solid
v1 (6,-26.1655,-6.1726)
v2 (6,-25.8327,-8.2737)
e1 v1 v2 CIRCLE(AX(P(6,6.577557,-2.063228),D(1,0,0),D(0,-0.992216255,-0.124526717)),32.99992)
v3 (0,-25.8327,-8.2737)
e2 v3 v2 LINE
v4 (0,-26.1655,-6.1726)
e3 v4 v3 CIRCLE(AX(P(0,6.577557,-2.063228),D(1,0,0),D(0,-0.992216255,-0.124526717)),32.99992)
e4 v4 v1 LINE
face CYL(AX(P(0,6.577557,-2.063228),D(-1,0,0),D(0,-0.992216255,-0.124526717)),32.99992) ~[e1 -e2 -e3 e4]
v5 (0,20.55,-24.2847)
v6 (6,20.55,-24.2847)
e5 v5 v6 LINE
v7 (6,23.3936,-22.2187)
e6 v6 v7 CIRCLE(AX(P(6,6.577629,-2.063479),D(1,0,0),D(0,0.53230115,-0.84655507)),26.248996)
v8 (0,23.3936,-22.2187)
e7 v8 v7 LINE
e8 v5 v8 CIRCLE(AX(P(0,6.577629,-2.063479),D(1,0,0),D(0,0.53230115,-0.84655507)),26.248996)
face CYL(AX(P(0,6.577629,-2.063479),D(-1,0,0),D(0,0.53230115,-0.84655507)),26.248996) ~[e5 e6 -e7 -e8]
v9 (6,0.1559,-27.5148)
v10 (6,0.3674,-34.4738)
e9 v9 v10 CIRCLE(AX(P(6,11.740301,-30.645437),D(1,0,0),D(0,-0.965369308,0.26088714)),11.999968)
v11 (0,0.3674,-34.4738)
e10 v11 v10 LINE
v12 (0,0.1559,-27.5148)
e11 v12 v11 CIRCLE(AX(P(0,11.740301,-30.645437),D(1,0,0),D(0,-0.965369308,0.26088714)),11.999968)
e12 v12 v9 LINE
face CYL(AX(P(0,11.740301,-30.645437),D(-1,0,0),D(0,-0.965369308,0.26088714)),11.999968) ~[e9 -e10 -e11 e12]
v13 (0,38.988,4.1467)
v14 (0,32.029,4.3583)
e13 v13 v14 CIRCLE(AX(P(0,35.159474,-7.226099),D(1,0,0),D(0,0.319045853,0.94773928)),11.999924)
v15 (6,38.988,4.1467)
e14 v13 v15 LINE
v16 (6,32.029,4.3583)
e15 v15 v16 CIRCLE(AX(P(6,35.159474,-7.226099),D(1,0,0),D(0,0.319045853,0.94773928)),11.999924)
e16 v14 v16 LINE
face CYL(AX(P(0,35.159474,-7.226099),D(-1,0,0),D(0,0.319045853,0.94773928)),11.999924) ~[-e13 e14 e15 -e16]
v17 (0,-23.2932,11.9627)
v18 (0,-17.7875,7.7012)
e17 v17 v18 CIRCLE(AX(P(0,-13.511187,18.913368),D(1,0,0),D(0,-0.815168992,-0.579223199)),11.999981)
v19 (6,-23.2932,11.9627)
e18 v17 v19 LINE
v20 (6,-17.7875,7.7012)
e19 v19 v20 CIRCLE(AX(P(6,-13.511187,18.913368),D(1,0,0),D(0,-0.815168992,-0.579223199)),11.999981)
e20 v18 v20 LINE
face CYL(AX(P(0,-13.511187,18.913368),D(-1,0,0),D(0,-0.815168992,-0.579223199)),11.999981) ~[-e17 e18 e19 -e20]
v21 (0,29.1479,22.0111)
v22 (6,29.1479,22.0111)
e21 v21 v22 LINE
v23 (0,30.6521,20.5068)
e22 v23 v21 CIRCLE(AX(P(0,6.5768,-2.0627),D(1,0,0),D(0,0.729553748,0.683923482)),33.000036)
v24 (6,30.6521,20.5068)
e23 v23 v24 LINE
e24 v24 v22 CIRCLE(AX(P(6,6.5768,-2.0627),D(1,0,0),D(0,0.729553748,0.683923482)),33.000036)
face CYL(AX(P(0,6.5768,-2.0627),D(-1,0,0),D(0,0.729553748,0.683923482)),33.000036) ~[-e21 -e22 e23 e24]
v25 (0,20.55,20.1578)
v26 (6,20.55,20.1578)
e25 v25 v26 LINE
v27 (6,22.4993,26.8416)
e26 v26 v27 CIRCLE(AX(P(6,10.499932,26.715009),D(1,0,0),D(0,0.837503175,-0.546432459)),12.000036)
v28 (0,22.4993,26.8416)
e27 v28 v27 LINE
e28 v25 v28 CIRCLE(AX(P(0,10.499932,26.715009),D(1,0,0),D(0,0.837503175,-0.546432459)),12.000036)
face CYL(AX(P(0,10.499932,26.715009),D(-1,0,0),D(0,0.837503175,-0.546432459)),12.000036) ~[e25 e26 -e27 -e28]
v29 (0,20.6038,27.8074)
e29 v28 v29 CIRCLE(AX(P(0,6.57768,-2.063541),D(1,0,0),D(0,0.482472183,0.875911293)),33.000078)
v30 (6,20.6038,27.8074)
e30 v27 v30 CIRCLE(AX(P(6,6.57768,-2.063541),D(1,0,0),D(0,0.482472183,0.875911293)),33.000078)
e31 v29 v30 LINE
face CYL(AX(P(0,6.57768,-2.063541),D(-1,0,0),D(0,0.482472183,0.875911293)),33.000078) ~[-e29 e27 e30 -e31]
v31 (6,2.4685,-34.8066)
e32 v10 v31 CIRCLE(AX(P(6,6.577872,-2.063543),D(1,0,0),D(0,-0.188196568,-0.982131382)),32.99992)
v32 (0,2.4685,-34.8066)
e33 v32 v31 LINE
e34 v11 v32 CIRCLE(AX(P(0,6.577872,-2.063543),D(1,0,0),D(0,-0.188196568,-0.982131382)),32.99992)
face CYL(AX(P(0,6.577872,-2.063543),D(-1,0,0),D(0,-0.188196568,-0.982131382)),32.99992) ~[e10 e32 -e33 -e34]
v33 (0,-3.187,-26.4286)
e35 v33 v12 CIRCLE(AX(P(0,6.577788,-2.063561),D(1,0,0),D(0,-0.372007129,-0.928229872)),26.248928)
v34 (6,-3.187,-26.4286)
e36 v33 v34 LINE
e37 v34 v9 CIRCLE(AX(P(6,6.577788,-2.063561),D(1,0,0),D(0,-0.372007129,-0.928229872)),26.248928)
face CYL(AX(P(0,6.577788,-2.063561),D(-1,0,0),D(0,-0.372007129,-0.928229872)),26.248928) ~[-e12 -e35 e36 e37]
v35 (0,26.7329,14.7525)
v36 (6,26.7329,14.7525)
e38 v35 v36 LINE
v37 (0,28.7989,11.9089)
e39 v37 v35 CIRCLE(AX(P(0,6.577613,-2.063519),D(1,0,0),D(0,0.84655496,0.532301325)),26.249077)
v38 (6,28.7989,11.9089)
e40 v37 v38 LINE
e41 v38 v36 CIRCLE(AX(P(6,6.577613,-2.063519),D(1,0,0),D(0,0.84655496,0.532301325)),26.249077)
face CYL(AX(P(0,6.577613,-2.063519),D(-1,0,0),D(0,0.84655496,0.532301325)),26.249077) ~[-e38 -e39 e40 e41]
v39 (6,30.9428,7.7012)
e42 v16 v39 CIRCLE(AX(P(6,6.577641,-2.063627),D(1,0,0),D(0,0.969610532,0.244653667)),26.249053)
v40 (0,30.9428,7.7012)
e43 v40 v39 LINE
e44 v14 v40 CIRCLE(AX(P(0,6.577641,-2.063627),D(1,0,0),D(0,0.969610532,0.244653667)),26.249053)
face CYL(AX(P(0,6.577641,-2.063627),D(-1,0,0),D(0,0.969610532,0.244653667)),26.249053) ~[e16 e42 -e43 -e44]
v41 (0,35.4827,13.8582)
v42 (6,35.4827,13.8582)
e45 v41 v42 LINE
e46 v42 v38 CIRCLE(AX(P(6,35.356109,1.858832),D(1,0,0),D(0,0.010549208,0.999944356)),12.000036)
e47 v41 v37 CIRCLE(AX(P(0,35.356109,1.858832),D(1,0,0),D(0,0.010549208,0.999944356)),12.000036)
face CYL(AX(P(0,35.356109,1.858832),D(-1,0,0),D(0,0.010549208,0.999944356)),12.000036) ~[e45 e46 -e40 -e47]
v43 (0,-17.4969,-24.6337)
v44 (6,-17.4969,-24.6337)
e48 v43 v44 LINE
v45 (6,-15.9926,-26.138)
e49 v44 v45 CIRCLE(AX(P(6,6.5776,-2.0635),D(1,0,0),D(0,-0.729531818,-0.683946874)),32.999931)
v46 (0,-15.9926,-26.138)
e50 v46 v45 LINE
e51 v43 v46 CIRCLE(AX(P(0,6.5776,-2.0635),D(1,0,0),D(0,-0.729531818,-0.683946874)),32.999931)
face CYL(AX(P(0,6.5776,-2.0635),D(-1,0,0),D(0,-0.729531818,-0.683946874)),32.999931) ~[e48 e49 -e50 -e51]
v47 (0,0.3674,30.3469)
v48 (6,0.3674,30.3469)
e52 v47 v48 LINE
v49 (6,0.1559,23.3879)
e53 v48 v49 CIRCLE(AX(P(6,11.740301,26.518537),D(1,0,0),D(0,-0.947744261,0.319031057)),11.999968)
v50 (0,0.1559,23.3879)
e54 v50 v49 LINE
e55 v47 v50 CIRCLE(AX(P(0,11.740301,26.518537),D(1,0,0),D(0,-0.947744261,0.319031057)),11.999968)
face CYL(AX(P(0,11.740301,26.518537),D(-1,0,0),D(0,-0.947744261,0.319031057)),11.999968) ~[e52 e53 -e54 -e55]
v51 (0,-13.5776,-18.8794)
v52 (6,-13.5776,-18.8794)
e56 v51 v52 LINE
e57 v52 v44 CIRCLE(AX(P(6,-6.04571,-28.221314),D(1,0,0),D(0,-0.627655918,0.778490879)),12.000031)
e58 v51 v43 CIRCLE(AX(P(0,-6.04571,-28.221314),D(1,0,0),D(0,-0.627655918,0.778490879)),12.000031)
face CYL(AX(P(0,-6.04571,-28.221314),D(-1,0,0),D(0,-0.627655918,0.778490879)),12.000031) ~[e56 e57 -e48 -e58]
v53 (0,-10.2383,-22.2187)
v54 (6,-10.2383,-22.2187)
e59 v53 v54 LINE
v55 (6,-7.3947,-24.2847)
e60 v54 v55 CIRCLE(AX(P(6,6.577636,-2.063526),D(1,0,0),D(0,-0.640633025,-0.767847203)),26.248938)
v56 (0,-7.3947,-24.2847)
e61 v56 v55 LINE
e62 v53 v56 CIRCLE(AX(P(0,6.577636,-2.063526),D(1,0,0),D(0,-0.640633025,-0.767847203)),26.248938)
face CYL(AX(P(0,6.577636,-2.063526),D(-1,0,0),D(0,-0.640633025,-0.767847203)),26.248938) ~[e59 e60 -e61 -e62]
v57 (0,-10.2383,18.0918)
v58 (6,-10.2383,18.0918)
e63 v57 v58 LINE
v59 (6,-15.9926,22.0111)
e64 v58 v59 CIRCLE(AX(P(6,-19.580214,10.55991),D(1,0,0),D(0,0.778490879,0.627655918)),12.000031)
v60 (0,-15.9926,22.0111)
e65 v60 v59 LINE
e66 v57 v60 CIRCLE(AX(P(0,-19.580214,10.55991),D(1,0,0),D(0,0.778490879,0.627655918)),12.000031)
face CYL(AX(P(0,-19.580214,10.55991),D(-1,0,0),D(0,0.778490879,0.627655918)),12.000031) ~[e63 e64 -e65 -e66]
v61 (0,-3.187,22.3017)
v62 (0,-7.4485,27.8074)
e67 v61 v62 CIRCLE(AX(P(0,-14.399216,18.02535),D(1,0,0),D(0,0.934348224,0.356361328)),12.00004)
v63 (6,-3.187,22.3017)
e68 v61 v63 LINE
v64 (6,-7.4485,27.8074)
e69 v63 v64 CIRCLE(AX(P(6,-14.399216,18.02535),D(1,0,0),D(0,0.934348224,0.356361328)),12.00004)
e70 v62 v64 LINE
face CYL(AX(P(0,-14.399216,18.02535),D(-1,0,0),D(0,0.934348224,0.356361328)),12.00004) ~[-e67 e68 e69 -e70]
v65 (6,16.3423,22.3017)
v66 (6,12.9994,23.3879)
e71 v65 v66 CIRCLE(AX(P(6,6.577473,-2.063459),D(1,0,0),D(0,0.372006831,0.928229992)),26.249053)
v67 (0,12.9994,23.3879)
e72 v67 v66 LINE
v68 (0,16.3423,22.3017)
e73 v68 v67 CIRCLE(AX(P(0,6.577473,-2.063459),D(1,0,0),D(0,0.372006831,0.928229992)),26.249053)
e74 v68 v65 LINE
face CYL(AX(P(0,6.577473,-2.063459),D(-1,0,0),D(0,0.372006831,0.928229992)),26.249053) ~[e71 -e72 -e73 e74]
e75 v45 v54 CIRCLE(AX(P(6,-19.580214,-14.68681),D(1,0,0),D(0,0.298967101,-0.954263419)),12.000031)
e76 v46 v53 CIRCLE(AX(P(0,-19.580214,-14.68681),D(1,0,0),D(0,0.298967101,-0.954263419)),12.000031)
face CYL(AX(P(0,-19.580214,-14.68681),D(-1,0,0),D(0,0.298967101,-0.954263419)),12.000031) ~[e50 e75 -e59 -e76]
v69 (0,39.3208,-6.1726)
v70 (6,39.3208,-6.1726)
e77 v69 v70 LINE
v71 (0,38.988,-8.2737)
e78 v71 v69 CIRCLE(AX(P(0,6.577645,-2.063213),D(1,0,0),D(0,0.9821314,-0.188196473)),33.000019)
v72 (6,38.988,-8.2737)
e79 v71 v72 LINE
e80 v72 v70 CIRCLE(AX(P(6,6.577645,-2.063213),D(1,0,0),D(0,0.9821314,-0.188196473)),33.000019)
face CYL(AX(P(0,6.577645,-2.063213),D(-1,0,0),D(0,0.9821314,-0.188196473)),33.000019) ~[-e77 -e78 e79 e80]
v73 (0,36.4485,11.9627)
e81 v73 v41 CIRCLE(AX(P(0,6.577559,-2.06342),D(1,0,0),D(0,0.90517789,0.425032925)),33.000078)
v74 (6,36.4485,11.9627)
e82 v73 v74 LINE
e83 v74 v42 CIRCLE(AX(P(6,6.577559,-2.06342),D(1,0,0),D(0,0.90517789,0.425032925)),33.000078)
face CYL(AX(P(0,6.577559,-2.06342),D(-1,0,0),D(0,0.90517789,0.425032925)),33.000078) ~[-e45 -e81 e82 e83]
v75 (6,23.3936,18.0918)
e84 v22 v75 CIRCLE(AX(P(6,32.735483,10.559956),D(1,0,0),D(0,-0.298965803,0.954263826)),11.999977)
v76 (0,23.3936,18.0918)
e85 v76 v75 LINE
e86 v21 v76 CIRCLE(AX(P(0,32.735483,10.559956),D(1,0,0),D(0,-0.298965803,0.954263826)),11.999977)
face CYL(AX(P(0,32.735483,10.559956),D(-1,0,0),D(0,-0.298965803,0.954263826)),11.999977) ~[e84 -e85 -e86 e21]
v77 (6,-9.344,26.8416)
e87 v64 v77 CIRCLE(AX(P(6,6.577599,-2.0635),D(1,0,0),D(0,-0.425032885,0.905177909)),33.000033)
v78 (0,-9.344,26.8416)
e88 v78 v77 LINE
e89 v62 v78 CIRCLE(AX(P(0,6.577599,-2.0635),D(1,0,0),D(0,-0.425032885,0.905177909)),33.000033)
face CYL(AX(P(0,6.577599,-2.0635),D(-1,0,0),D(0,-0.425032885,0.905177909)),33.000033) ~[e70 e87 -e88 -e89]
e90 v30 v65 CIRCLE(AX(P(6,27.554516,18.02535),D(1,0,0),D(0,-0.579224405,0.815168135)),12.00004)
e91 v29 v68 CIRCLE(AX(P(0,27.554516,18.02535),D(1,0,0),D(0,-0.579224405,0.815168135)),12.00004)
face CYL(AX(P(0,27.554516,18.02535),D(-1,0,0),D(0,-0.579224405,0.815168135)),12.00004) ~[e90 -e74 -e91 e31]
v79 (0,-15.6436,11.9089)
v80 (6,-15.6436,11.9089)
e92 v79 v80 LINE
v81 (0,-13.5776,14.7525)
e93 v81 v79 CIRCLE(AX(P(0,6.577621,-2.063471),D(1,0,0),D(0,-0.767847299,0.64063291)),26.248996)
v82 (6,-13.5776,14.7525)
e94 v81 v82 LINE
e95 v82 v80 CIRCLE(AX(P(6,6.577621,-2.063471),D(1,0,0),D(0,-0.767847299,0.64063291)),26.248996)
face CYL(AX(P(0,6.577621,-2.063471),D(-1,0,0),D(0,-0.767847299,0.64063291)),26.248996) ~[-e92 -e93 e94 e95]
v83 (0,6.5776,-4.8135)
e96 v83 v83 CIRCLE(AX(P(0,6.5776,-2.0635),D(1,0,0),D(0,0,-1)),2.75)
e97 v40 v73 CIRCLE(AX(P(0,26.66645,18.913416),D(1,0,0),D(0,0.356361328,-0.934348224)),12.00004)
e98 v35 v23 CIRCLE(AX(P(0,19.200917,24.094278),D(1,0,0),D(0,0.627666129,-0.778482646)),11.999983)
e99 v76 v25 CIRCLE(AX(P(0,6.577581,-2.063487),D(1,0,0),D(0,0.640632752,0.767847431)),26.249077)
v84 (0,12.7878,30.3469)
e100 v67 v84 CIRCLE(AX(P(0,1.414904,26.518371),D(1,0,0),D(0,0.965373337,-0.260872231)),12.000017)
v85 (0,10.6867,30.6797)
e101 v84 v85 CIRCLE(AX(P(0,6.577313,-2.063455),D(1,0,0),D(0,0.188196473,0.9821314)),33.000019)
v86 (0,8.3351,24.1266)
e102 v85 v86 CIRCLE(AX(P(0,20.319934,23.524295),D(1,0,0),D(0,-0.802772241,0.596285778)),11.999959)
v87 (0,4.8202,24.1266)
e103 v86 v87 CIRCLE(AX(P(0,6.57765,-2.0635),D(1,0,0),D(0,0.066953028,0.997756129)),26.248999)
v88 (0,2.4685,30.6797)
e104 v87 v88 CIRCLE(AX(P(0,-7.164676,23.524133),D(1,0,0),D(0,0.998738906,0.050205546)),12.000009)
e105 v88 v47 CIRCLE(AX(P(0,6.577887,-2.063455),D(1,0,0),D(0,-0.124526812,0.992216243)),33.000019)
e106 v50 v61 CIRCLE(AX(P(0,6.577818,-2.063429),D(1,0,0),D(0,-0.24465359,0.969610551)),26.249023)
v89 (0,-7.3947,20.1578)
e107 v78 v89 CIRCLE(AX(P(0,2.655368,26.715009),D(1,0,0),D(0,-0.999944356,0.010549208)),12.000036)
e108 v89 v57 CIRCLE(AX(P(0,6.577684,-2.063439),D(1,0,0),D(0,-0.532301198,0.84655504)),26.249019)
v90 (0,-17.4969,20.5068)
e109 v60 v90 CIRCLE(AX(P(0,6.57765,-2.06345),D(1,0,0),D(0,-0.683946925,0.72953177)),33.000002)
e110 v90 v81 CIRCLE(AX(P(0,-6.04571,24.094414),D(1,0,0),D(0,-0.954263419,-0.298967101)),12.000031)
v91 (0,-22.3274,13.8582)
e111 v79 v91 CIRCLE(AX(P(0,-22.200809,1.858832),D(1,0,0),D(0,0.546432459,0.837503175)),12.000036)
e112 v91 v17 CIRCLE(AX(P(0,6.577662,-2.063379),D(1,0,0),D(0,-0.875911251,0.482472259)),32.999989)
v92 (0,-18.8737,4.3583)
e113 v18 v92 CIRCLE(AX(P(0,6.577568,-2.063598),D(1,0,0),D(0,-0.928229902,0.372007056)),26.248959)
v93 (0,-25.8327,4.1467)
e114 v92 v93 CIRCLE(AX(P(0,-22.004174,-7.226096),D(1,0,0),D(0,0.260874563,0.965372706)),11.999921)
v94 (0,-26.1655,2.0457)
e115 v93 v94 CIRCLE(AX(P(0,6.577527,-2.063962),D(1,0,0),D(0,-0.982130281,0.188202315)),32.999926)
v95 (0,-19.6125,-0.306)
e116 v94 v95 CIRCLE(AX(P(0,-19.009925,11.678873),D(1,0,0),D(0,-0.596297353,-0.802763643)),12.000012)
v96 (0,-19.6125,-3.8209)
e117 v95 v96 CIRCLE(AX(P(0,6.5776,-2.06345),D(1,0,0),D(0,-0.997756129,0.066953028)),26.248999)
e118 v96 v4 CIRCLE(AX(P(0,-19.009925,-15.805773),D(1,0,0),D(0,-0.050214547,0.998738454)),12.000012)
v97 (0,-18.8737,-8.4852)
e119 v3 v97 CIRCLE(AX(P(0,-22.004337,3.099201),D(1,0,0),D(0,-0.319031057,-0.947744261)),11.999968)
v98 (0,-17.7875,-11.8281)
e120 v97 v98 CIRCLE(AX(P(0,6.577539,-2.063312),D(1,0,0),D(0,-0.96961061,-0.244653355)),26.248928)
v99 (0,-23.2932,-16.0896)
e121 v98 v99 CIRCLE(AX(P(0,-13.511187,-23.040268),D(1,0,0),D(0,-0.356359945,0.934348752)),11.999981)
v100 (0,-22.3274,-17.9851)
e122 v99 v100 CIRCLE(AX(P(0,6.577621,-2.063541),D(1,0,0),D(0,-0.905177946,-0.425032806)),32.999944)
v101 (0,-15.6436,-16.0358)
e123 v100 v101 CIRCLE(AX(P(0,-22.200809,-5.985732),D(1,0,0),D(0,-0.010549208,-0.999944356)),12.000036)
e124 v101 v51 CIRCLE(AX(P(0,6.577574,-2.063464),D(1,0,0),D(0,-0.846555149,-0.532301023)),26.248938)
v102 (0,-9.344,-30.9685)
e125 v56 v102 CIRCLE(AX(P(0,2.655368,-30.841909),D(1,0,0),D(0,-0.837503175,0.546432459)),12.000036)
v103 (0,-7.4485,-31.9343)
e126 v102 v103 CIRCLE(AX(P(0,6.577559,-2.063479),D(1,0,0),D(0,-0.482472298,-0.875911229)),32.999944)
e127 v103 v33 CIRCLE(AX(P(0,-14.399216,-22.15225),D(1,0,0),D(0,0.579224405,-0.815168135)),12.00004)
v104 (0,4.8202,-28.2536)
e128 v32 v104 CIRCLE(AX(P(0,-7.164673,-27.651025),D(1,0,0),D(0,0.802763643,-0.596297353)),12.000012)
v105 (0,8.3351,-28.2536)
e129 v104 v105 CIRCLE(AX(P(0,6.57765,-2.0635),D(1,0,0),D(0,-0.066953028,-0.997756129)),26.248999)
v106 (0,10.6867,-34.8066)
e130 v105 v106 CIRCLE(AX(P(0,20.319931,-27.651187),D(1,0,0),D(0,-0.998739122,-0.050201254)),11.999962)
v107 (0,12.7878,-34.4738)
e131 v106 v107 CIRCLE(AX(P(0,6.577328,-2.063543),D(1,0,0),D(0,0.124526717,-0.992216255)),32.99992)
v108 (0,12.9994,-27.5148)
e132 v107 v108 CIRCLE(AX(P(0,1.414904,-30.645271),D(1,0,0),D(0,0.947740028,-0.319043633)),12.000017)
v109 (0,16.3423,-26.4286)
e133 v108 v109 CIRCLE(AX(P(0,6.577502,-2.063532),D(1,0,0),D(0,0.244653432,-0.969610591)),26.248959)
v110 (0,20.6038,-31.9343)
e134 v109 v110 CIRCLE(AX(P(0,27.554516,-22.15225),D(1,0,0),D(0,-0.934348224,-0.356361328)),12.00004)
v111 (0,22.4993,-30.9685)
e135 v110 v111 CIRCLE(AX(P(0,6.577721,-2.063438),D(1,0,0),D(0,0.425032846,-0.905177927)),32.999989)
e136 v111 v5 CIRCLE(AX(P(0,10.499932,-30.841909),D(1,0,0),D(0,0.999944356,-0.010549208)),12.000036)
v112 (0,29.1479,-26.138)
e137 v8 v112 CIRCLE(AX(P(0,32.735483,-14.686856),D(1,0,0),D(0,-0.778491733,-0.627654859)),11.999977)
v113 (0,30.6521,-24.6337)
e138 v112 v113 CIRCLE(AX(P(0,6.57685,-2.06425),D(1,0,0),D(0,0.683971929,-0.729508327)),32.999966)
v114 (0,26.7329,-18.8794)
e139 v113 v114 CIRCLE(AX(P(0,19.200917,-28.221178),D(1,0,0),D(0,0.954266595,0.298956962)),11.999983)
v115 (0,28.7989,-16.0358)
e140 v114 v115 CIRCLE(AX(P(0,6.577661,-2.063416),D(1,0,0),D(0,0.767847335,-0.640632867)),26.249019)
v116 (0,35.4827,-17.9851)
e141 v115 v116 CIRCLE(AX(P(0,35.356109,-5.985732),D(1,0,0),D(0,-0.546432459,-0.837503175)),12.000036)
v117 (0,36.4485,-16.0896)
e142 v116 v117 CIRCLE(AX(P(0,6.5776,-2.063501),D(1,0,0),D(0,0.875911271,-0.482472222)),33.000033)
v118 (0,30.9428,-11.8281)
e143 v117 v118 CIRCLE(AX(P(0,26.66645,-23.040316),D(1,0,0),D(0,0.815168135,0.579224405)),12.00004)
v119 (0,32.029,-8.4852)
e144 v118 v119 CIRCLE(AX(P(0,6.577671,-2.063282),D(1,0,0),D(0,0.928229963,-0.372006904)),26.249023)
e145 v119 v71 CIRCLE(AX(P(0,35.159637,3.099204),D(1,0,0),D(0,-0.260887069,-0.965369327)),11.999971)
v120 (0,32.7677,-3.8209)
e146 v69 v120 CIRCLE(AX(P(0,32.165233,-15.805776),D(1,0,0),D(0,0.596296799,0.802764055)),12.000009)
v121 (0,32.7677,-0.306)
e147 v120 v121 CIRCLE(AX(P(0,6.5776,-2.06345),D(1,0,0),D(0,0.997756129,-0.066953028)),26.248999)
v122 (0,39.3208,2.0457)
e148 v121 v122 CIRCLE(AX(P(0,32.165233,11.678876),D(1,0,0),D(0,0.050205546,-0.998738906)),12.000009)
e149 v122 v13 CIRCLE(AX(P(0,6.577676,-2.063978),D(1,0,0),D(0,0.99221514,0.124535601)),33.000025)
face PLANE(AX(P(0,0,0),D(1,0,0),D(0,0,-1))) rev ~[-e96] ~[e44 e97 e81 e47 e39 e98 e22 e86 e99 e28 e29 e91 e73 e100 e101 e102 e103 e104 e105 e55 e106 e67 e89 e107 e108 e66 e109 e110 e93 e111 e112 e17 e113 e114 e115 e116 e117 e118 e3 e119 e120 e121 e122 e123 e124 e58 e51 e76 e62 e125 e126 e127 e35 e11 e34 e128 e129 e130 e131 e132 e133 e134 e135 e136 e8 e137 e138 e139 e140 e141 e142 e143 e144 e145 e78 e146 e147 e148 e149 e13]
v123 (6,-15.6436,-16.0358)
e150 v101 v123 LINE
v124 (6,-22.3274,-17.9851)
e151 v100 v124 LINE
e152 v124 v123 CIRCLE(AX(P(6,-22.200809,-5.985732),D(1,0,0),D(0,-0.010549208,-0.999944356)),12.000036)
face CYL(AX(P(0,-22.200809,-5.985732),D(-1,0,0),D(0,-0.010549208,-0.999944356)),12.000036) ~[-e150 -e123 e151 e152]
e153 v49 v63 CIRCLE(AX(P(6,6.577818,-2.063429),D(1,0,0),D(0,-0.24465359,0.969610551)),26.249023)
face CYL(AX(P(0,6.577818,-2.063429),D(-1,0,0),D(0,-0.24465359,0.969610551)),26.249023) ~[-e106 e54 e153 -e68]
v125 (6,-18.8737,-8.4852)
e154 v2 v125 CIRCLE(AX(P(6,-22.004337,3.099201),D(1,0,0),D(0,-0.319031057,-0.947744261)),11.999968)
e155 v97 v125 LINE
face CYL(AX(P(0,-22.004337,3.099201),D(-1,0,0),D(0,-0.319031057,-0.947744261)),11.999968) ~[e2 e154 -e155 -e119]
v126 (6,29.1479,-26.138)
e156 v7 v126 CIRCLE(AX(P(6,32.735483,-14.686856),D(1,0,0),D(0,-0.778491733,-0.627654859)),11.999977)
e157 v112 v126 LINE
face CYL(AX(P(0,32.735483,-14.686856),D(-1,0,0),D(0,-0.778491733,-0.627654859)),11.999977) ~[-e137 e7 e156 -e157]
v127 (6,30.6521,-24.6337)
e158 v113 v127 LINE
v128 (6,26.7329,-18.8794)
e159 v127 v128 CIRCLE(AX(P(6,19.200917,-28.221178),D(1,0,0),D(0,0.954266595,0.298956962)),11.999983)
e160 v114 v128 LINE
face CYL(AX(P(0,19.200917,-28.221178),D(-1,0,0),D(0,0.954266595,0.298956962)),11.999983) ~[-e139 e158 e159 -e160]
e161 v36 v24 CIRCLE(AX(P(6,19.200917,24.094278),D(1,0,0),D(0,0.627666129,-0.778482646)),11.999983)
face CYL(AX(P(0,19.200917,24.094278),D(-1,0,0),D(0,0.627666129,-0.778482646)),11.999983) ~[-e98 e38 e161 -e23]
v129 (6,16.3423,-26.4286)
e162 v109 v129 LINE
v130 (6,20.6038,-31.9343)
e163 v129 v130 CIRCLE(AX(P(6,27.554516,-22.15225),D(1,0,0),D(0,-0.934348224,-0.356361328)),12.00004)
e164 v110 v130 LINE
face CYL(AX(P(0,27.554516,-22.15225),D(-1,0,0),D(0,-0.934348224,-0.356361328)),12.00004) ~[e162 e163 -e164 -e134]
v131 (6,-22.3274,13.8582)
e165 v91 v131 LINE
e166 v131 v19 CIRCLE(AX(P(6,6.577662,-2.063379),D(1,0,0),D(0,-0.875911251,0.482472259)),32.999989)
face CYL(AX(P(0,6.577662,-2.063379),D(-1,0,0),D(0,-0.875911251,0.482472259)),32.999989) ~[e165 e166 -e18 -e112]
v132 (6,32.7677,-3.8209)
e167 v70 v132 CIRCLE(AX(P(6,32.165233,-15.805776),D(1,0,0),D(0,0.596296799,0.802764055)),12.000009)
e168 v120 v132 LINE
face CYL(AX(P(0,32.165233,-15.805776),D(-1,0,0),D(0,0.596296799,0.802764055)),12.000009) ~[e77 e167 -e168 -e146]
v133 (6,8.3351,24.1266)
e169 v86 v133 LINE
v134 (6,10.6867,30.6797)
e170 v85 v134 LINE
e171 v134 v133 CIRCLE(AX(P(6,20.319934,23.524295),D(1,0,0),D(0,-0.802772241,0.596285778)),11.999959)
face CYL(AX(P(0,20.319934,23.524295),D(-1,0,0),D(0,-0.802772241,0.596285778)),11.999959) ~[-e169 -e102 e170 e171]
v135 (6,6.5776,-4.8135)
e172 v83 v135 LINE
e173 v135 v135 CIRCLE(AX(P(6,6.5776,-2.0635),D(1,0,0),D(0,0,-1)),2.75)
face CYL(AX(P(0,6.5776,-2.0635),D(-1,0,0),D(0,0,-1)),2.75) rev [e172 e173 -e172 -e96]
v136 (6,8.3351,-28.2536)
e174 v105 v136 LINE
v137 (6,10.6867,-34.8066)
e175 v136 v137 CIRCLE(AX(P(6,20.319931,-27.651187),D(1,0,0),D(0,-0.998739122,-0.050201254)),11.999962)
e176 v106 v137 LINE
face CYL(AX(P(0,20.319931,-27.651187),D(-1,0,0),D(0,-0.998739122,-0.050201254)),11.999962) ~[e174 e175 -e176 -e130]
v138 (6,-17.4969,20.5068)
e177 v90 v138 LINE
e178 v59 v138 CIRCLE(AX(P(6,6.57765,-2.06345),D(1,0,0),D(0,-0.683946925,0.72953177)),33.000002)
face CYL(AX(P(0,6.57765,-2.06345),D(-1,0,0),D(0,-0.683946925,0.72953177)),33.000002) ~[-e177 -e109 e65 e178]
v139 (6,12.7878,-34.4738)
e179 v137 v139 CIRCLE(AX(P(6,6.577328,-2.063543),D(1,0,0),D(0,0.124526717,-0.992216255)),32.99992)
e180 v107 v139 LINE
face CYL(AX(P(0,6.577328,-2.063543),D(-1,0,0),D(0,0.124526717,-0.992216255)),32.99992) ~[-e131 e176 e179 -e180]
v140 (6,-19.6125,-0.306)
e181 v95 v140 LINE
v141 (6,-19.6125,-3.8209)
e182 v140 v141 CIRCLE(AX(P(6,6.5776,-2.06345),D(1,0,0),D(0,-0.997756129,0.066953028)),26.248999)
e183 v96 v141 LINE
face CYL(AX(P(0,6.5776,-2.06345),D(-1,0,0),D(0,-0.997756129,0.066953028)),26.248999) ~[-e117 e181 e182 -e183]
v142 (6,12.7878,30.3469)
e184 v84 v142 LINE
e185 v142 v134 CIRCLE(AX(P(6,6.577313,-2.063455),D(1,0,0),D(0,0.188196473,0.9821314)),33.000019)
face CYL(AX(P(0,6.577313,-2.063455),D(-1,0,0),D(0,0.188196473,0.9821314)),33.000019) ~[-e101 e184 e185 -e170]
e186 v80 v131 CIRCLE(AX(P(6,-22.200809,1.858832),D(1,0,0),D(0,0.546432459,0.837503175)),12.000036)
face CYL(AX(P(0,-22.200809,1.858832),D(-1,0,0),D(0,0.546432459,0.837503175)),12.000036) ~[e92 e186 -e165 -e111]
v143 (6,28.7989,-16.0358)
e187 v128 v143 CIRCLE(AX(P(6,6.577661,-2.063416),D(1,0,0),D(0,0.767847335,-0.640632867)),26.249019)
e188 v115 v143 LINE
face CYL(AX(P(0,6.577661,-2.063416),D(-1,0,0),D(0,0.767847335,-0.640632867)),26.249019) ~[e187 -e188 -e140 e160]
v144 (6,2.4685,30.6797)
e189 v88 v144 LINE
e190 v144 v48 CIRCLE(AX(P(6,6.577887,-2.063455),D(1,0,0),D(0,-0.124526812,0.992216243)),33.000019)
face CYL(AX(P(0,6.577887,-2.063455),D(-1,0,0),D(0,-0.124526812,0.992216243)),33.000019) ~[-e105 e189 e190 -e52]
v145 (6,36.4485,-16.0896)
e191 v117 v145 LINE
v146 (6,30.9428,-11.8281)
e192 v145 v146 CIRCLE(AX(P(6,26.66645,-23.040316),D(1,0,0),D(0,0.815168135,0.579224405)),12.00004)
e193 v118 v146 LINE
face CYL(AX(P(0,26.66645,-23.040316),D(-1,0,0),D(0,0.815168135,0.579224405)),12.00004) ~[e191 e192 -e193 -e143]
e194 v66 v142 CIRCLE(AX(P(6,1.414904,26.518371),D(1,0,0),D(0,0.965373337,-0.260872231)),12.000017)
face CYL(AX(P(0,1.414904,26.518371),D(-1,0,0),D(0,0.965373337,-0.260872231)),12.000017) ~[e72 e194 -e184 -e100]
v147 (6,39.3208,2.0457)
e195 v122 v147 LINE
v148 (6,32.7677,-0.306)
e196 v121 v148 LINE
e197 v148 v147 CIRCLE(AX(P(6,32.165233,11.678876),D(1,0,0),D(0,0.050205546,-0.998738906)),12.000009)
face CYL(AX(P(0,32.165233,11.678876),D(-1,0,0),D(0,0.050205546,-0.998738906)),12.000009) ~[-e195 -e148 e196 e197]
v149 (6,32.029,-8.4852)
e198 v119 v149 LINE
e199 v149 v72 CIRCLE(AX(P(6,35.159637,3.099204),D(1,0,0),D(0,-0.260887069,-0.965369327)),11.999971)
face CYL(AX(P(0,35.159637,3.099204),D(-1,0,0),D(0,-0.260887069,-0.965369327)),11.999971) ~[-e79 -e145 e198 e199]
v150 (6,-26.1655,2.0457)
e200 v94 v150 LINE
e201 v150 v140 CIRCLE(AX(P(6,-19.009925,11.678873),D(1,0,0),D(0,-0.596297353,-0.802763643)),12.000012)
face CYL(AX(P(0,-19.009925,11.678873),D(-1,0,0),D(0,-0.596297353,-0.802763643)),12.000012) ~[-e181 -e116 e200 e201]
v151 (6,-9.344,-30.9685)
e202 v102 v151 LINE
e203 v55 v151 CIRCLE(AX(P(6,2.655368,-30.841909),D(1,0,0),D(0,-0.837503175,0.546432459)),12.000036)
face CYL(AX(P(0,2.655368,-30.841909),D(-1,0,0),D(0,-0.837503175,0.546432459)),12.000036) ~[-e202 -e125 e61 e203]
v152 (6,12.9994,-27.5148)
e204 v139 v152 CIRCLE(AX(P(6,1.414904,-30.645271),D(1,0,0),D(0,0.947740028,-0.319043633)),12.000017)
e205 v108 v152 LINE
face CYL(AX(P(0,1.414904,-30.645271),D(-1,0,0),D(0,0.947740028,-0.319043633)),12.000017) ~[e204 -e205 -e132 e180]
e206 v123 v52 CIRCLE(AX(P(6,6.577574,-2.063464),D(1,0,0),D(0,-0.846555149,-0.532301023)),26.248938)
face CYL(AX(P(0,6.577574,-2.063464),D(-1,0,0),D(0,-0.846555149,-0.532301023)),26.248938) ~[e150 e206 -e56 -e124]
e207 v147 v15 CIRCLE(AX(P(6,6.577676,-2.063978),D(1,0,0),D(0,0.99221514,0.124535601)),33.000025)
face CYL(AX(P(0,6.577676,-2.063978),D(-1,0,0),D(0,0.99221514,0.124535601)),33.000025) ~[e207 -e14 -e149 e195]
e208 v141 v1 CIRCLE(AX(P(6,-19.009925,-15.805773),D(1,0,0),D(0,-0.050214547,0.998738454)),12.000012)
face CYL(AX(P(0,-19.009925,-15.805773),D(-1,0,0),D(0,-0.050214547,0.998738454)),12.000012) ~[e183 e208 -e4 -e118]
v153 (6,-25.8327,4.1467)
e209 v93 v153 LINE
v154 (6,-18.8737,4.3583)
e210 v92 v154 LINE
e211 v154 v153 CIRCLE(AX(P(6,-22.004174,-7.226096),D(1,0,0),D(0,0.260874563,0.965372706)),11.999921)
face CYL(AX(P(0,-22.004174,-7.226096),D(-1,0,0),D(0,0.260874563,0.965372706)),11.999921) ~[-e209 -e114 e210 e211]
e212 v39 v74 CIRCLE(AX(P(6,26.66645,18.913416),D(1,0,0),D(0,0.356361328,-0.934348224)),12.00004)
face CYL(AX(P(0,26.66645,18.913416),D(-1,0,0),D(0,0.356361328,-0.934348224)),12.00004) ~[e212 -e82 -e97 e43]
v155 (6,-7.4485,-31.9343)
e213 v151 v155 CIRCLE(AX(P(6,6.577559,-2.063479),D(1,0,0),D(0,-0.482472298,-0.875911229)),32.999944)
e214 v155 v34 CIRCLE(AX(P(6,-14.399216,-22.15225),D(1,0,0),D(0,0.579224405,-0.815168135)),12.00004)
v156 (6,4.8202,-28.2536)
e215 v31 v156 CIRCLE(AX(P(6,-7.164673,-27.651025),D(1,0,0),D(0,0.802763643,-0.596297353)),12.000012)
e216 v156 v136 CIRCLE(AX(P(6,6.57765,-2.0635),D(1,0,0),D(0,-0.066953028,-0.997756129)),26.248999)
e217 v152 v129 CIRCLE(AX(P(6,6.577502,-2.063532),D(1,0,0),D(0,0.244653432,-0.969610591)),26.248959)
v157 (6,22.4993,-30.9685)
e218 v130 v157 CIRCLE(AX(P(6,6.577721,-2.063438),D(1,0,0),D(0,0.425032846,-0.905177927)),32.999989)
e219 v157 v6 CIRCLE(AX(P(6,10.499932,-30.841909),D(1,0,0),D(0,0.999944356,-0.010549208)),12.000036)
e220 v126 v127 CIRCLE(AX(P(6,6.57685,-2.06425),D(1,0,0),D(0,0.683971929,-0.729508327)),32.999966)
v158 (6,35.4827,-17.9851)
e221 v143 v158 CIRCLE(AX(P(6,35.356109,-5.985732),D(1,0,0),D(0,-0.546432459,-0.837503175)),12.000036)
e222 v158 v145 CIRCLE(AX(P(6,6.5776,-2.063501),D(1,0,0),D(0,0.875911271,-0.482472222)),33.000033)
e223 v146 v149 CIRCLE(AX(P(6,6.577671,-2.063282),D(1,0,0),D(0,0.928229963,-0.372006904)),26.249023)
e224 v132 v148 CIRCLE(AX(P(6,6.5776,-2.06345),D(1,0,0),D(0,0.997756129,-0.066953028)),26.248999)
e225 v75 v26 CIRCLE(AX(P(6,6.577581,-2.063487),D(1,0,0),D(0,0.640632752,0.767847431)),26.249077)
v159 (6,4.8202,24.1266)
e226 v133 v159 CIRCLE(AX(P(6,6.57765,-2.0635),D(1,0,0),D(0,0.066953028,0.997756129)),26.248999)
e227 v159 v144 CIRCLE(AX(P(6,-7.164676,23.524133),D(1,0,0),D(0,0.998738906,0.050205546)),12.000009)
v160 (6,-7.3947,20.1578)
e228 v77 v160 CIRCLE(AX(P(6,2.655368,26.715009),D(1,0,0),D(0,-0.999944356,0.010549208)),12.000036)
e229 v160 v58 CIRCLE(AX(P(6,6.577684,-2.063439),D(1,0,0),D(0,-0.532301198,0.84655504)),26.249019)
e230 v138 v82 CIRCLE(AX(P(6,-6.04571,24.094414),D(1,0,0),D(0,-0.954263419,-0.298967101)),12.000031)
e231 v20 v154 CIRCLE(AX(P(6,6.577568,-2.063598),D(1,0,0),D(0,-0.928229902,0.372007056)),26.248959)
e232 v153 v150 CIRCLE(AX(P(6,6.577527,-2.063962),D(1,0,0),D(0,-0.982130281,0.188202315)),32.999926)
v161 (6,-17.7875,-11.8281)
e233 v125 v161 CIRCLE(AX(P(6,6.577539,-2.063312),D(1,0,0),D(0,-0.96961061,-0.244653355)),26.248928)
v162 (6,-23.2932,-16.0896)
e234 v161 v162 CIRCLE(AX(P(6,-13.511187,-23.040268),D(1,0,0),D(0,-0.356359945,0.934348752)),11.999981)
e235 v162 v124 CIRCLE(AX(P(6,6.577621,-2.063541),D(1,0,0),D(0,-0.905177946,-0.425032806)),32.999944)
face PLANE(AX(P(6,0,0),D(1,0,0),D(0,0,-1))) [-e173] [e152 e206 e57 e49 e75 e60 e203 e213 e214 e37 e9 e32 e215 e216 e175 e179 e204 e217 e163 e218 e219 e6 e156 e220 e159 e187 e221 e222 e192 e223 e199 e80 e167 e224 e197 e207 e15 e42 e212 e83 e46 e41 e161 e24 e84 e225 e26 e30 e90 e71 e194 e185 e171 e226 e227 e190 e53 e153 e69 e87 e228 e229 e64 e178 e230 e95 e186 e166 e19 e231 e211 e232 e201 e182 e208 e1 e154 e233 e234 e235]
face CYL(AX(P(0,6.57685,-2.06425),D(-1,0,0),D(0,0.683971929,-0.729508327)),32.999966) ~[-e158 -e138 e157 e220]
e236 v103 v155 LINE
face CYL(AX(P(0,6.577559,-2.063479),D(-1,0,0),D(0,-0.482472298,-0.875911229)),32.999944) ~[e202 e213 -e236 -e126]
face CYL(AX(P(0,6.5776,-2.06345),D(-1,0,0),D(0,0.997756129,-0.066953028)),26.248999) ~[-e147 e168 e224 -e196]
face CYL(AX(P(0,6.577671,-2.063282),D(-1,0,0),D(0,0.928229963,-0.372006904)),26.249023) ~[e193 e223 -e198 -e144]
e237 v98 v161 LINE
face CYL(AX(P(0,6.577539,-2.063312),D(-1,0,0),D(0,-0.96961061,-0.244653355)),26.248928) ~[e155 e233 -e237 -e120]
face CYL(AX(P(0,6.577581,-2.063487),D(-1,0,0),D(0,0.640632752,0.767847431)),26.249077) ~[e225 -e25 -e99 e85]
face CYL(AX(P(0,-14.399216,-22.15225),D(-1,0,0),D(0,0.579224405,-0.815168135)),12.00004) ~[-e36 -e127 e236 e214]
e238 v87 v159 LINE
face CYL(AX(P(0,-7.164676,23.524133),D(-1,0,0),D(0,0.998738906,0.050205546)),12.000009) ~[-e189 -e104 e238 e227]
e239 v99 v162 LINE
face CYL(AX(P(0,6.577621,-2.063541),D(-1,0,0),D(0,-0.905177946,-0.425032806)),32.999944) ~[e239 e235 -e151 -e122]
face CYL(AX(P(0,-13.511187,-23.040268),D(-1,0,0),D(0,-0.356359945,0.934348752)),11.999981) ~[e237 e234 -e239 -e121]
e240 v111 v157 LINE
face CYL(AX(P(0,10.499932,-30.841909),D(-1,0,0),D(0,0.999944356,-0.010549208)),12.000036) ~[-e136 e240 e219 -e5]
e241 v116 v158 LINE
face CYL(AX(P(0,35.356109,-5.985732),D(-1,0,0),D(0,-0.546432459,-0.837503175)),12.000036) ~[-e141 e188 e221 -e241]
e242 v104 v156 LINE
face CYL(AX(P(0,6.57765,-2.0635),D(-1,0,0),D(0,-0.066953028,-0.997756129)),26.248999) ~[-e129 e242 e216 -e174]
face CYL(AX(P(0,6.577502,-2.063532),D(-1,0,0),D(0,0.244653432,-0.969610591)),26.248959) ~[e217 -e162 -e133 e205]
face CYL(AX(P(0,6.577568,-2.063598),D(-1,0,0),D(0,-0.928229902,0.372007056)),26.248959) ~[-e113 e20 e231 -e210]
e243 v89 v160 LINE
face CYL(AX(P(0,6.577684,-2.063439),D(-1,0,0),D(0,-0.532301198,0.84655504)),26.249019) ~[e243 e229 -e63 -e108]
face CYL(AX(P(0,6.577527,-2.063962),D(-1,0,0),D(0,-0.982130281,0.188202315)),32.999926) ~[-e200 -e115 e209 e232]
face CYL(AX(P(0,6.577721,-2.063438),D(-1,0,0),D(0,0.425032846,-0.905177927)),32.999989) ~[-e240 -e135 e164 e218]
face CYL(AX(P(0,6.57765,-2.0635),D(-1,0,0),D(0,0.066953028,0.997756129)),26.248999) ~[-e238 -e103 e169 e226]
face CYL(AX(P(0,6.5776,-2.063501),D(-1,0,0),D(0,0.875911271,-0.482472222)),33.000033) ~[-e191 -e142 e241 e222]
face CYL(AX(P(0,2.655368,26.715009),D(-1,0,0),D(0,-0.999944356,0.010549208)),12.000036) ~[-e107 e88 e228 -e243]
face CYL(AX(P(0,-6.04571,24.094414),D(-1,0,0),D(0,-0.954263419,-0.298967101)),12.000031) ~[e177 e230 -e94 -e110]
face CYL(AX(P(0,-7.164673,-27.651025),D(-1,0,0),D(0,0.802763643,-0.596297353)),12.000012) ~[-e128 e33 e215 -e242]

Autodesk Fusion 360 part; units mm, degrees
sketch "Sketch1" plane through (0, 0, 0) normal (1, 0, 0) x (0, 0, -1)
  arc A0 (28.2536, 4.8202) -> (28.2536, 8.3351) centre (2.0635, 6.5776) ccw
  arc A1 (28.2536, 8.3351) -> (34.8066, 10.6867) centre (27.6511, 20.3199) ccw
  arc A2 (17.9851, 35.4827) -> (16.0896, 36.4485) centre (2.0635, 6.5776) ccw
  arc A3 (8.4852, 32.029) -> (8.2737, 38.988) centre (-3.0992, 35.1595) ccw
  arc A4 (34.8066, 10.6867) -> (34.4738, 12.7878) centre (2.0635, 6.5776) ccw
  arc A5 (6.1726, 39.3208) -> (3.8209, 32.7677) centre (15.8058, 32.1653) ccw
  arc A6 (18.8794, -13.5776) -> (24.6337, -17.4969) centre (28.2213, -6.0457) ccw
  arc A7 (16.0896, -23.2932) -> (17.9851, -22.3274) centre (2.0635, 6.5776) ccw
  arc A8 (22.2187, -10.2383) -> (24.2847, -7.3947) centre (2.0635, 6.5776) ccw
  arc A9 (3.8209, 32.7677) -> (0.306, 32.7677) centre (2.0635, 6.5776) ccw
  arc A10 (0.306, -19.6125) -> (3.8209, -19.6125) centre (2.0635, 6.5776) ccw
  arc A11 (24.6337, -17.4969) -> (26.138, -15.9926) centre (2.0635, 6.5776) ccw
  arc A12 (-13.8582, -22.3274) -> (-11.9627, -23.2932) centre (2.0635, 6.5776) ccw
  arc A13 (31.9343, -7.4485) -> (26.4286, -3.187) centre (22.1521, -14.3991) ccw
  arc A14 (6.1726, 39.3208) -> (3.8209, 32.7677) centre (15.8058, 32.1653) ccw
  arc A15 (-14.7525, -13.5776) -> (-11.9089, -15.6436) centre (2.0635, 6.5776) ccw
  arc A16 (8.2737, -25.8327) -> (8.4852, -18.8737) centre (-3.0992, -22.0043) ccw
  arc A17 (-7.7012, -17.7875) -> (-4.3583, -18.8737) centre (2.0635, 6.5776) ccw
  arc A18 (0.306, -19.6125) -> (3.8209, -19.6125) centre (2.0635, 6.5776) ccw
  arc A19 (26.4286, -3.187) -> (27.5148, 0.1559) centre (2.0635, 6.5776) ccw
  arc A20 (8.4852, -18.8737) -> (11.8281, -17.7875) centre (2.0635, 6.5776) ccw
  arc A21 (8.2737, 38.988) -> (6.1726, 39.3208) centre (2.0635, 6.5776) ccw
  arc A22 (6.1726, -26.1655) -> (8.2737, -25.8327) centre (2.0635, 6.5776) ccw
  arc A23 (8.4852, -18.8737) -> (11.8281, -17.7875) centre (2.0635, 6.5776) ccw
  arc A24 (11.8281, -17.7875) -> (16.0896, -23.2932) centre (23.0402, -13.5111) ccw
  arc A25 (30.9685, -9.344) -> (31.9343, -7.4485) centre (2.0635, 6.5776) ccw
  arc A26 (17.9851, -22.3274) -> (16.0358, -15.6436) centre (5.9857, -22.2007) ccw
  arc A27 (6.1726, -26.1655) -> (8.2737, -25.8327) centre (2.0635, 6.5776) ccw
  arc A28 (3.8209, -19.6125) -> (6.1726, -26.1655) centre (15.8058, -19.01) ccw
  arc A29 (34.4738, 0.3674) -> (34.8066, 2.4685) centre (2.0635, 6.5776) ccw
  arc A30 (34.8066, 2.4685) -> (28.2536, 4.8202) centre (27.6511, -7.1647) ccw
  arc A31 (18.8794, 26.7329) -> (16.0358, 28.7989) centre (2.0635, 6.5776) ccw
  arc A32 (-11.9089, -15.6436) -> (-13.8582, -22.3274) centre (-1.8588, -22.2007) ccw
  arc A33 (11.8281, -17.7875) -> (16.0896, -23.2932) centre (23.0402, -13.5111) ccw
  arc A34 (8.4852, 32.029) -> (8.2737, 38.988) centre (-3.0992, 35.1595) ccw
  arc A35 (16.0896, -23.2932) -> (17.9851, -22.3274) centre (2.0635, 6.5776) ccw
  arc A36 (16.0896, 36.4485) -> (11.8281, 30.9428) centre (23.0402, 26.6663) ccw
  arc A37 (16.0358, -15.6436) -> (18.8794, -13.5776) centre (2.0635, 6.5776) ccw
  arc A38 (-4.3583, -18.8737) -> (-4.1467, -25.8327) centre (7.2261, -22.0043) ccw
  arc A39 (-11.9627, -23.2932) -> (-7.7012, -17.7875) centre (-18.9133, -13.5111) ccw
  arc A40 (3.8209, -19.6125) -> (6.1726, -26.1655) centre (15.8058, -19.01) ccw
  arc A41 (11.8281, 30.9428) -> (8.4852, 32.029) centre (2.0635, 6.5776) ccw
  arc A42 (-4.1467, -25.8327) -> (-2.0457, -26.1655) centre (2.0635, 6.5776) ccw
  arc A43 (17.9851, -22.3274) -> (16.0358, -15.6436) centre (5.9857, -22.2007) ccw
  arc A44 (16.0358, -15.6436) -> (18.8794, -13.5776) centre (2.0635, 6.5776) ccw
  arc A45 (24.2847, -7.3947) -> (30.9685, -9.344) centre (30.8418, 2.6554) ccw
  arc A46 (30.9685, 22.4993) -> (24.2847, 20.55) centre (30.8418, 10.4999) ccw
  arc A47 (18.8794, 26.7329) -> (16.0358, 28.7989) centre (2.0635, 6.5776) ccw
  arc A48 (26.138, 29.1479) -> (24.6337, 30.6521) centre (2.0635, 6.5776) ccw
  arc A49 (24.2847, 20.55) -> (22.2187, 23.3936) centre (2.0635, 6.5776) ccw
  arc A50 (27.5148, 12.9994) -> (26.4286, 16.3423) centre (2.0635, 6.5776) ccw
  arc A51 (17.9851, 35.4827) -> (16.0896, 36.4485) centre (2.0635, 6.5776) ccw
  arc A52 (31.9343, 20.6038) -> (30.9685, 22.4993) centre (2.0635, 6.5776) ccw
  arc A53 (8.2737, 38.988) -> (6.1726, 39.3208) centre (2.0635, 6.5776) ccw
  arc A54 (16.0896, 36.4485) -> (11.8281, 30.9428) centre (23.0402, 26.6663) ccw
  arc A55 (24.6337, 30.6521) -> (18.8794, 26.7329) centre (28.2213, 19.201) ccw
  arc A56 (16.0358, 28.7989) -> (17.9851, 35.4827) centre (5.9857, 35.356) ccw
  arc A57 (-2.0457, -26.1655) -> (0.306, -19.6125) centre (-11.6789, -19.01) ccw
  arc A58 (16.0358, 28.7989) -> (17.9851, 35.4827) centre (5.9857, 35.356) ccw
  arc A59 (27.5148, 0.1559) -> (34.4738, 0.3674) centre (30.6454, 11.7403) ccw
  arc A60 (8.2737, -25.8327) -> (8.4852, -18.8737) centre (-3.0992, -22.0043) ccw
  arc A61 (3.8209, 32.7677) -> (0.306, 32.7677) centre (2.0635, 6.5776) ccw
  arc A62 (26.4286, 16.3423) -> (31.9343, 20.6038) centre (22.1521, 27.5544) ccw
  arc A63 (22.2187, 23.3936) -> (26.138, 29.1479) centre (14.6868, 32.7354) ccw
  arc A64 (11.8281, 30.9428) -> (8.4852, 32.029) centre (2.0635, 6.5776) ccw
  arc A65 (34.4738, 12.7878) -> (27.5148, 12.9994) centre (30.6454, 1.4149) ccw
  arc A66 (-27.8074, -7.4485) -> (-26.8416, -9.344) centre (2.0635, 6.5776) ccw
  arc A67 (30.9685, 22.4993) -> (24.2847, 20.55) centre (30.8418, 10.4999) ccw
  arc A68 (-14.7525, -13.5776) -> (-11.9089, -15.6436) centre (2.0635, 6.5776) ccw
  arc A69 (-7.7012, -17.7875) -> (-4.3583, -18.8737) centre (2.0635, 6.5776) ccw
  arc A70 (-4.3583, -18.8737) -> (-4.1467, -25.8327) centre (7.2261, -22.0043) ccw
  arc A71 (-20.5068, -17.4969) -> (-14.7525, -13.5776) centre (-24.0944, -6.0457) ccw
  arc A72 (-13.8582, -22.3274) -> (-11.9627, -23.2932) centre (2.0635, 6.5776) ccw
  arc A73 (-18.0918, -10.2383) -> (-22.0111, -15.9926) centre (-10.5599, -19.5802) ccw
  arc A74 (-30.6797, 2.4685) -> (-30.3469, 0.3674) centre (2.0635, 6.5776) ccw
  arc A75 (-27.8074, 20.6038) -> (-22.3017, 16.3423) centre (-18.0252, 27.5544) ccw
  arc A76 (-11.9089, 28.7989) -> (-14.7525, 26.7329) centre (2.0635, 6.5776) ccw
  arc A77 (24.6337, 30.6521) -> (18.8794, 26.7329) centre (28.2213, 19.201) ccw
  arc A78 (-18.0918, 23.3936) -> (-20.1578, 20.55) centre (2.0635, 6.5776) ccw
  arc A79 (-30.3469, 0.3674) -> (-23.3879, 0.1559) centre (-26.5185, 11.7403) ccw
  arc A80 (34.4738, 0.3674) -> (34.8066, 2.4685) centre (2.0635, 6.5776) ccw
  arc A81 (-7.7012, 30.9428) -> (-11.9627, 36.4485) centre (-18.9133, 26.6663) ccw
  arc A82 (34.8066, 2.4685) -> (28.2536, 4.8202) centre (27.6511, -7.1647) ccw
  arc A83 (-4.1467, 38.988) -> (-4.3583, 32.029) centre (7.2261, 35.1595) ccw
  arc A84 (-18.0918, -10.2383) -> (-22.0111, -15.9926) centre (-10.5599, -19.5802) ccw
  arc A85 (26.138, 29.1479) -> (24.6337, 30.6521) centre (2.0635, 6.5776) ccw
  arc A86 (-22.0111, -15.9926) -> (-20.5068, -17.4969) centre (2.0635, 6.5776) ccw
  arc A87 (-20.1578, -7.3947) -> (-18.0918, -10.2383) centre (2.0635, 6.5776) ccw
  arc A88 (-24.1266, 8.3351) -> (-24.1266, 4.8202) centre (2.0635, 6.5776) ccw
  arc A89 (-26.8416, -9.344) -> (-20.1578, -7.3947) centre (-26.7149, 2.6554) ccw
  arc A90 (22.2187, 23.3936) -> (26.138, 29.1479) centre (14.6868, 32.7354) ccw
  arc A91 (28.2536, 4.8202) -> (28.2536, 8.3351) centre (2.0635, 6.5776) ccw
  arc A92 (24.6337, -17.4969) -> (26.138, -15.9926) centre (2.0635, 6.5776) ccw
  arc A93 (-27.8074, -7.4485) -> (-26.8416, -9.344) centre (2.0635, 6.5776) ccw
  arc A94 (22.2187, -10.2383) -> (24.2847, -7.3947) centre (2.0635, 6.5776) ccw
  arc A95 (34.8066, 10.6867) -> (34.4738, 12.7878) centre (2.0635, 6.5776) ccw
  arc A96 (27.5148, 12.9994) -> (26.4286, 16.3423) centre (2.0635, 6.5776) ccw
  arc A97 (24.2847, 20.55) -> (22.2187, 23.3936) centre (2.0635, 6.5776) ccw
  arc A98 (28.2536, 8.3351) -> (34.8066, 10.6867) centre (27.6511, 20.3199) ccw
  arc A99 (-26.8416, 22.4993) -> (-27.8074, 20.6038) centre (2.0635, 6.5776) ccw
  arc A100 (-11.9627, -23.2932) -> (-7.7012, -17.7875) centre (-18.9133, -13.5111) ccw
  arc A101 (27.5148, 0.1559) -> (34.4738, 0.3674) centre (30.6454, 11.7403) ccw
  arc A102 (34.4738, 12.7878) -> (27.5148, 12.9994) centre (30.6454, 1.4149) ccw
  arc A103 (-22.3017, -3.187) -> (-27.8074, -7.4485) centre (-18.0252, -14.3991) ccw
  arc A104 (-20.5068, 30.6521) -> (-22.0111, 29.1479) centre (2.0635, 6.5776) ccw
  arc A105 (26.138, -15.9926) -> (22.2187, -10.2383) centre (14.6868, -19.5802) ccw
  arc A106 (26.4286, -3.187) -> (27.5148, 0.1559) centre (2.0635, 6.5776) ccw
  arc A107 (18.8794, -13.5776) -> (24.6337, -17.4969) centre (28.2213, -6.0457) ccw
  arc A108 (30.9685, -9.344) -> (31.9343, -7.4485) centre (2.0635, 6.5776) ccw
  arc A109 (31.9343, -7.4485) -> (26.4286, -3.187) centre (22.1521, -14.3991) ccw
  arc A110 (-23.3879, 0.1559) -> (-22.3017, -3.187) centre (2.0635, 6.5776) ccw
  arc A111 (26.4286, 16.3423) -> (31.9343, 20.6038) centre (22.1521, 27.5544) ccw
  arc A112 (31.9343, 20.6038) -> (30.9685, 22.4993) centre (2.0635, 6.5776) ccw
  arc A113 (-30.3469, 0.3674) -> (-23.3879, 0.1559) centre (-26.5185, 11.7403) ccw
  arc A114 (24.2847, -7.3947) -> (30.9685, -9.344) centre (30.8418, 2.6554) ccw
  arc A115 (-14.7525, 26.7329) -> (-20.5068, 30.6521) centre (-24.0944, 19.201) ccw
  arc A116 (-26.8416, -9.344) -> (-20.1578, -7.3947) centre (-26.7149, 2.6554) ccw
  arc A117 (-20.1578, -7.3947) -> (-18.0918, -10.2383) centre (2.0635, 6.5776) ccw
  arc A118 (0.306, 32.7677) -> (-2.0457, 39.3208) centre (-11.6789, 32.1653) ccw
  arc A119 (-24.1266, 4.8202) -> (-30.6797, 2.4685) centre (-23.5242, -7.1647) ccw
  arc A120 (-26.8416, 22.4993) -> (-27.8074, 20.6038) centre (2.0635, 6.5776) ccw
  arc A121 (-30.3469, 12.7878) -> (-30.6797, 10.6867) centre (2.0635, 6.5776) ccw
  arc A122 (-11.9089, -15.6436) -> (-13.8582, -22.3274) centre (-1.8588, -22.2007) ccw
  arc A123 (-4.1467, -25.8327) -> (-2.0457, -26.1655) centre (2.0635, 6.5776) ccw
  arc A124 (-23.3879, 12.9994) -> (-30.3469, 12.7878) centre (-26.5185, 1.4149) ccw
  arc A125 (-22.0111, 29.1479) -> (-18.0918, 23.3936) centre (-10.5599, 32.7354) ccw
  arc A126 (-22.3017, -3.187) -> (-27.8074, -7.4485) centre (-18.0252, -14.3991) ccw
  arc A127 (-20.5068, -17.4969) -> (-14.7525, -13.5776) centre (-24.0944, -6.0457) ccw
  arc A128 (-4.3583, 32.029) -> (-7.7012, 30.9428) centre (2.0635, 6.5776) ccw
  arc A129 (-2.0457, 39.3208) -> (-4.1467, 38.988) centre (2.0635, 6.5776) ccw
  arc A130 (-18.0918, 23.3936) -> (-20.1578, 20.55) centre (2.0635, 6.5776) ccw
  arc A131 (-23.3879, 0.1559) -> (-22.3017, -3.187) centre (2.0635, 6.5776) ccw
  arc A132 (-20.1578, 20.55) -> (-26.8416, 22.4993) centre (-26.7149, 10.4999) ccw
  arc A133 (-27.8074, 20.6038) -> (-22.3017, 16.3423) centre (-18.0252, 27.5544) ccw
  arc A134 (-2.0457, -26.1655) -> (0.306, -19.6125) centre (-11.6789, -19.01) ccw
  arc A135 (-22.0111, -15.9926) -> (-20.5068, -17.4969) centre (2.0635, 6.5776) ccw
  arc A136 (-24.1266, 8.3351) -> (-24.1266, 4.8202) centre (2.0635, 6.5776) ccw
  arc A137 (-24.1266, 4.8202) -> (-30.6797, 2.4685) centre (-23.5242, -7.1647) ccw
  arc A138 (-14.7525, 26.7329) -> (-20.5068, 30.6521) centre (-24.0944, 19.201) ccw
  arc A139 (-11.9627, 36.4485) -> (-13.8582, 35.4827) centre (2.0635, 6.5776) ccw
  arc A140 (-2.0457, 39.3208) -> (-4.1467, 38.988) centre (2.0635, 6.5776) ccw
  arc A141 (-20.1578, 20.55) -> (-26.8416, 22.4993) centre (-26.7149, 10.4999) ccw
  arc A142 (-30.3469, 12.7878) -> (-30.6797, 10.6867) centre (2.0635, 6.5776) ccw
  arc A143 (-20.5068, 30.6521) -> (-22.0111, 29.1479) centre (2.0635, 6.5776) ccw
  arc A144 (-4.1467, 38.988) -> (-4.3583, 32.029) centre (7.2261, 35.1595) ccw
  arc A145 (-11.9627, 36.4485) -> (-13.8582, 35.4827) centre (2.0635, 6.5776) ccw
  arc A146 (-30.6797, 2.4685) -> (-30.3469, 0.3674) centre (2.0635, 6.5776) ccw
  arc A147 (0.306, 32.7677) -> (-2.0457, 39.3208) centre (-11.6789, 32.1653) ccw
  arc A148 (-23.3879, 12.9994) -> (-30.3469, 12.7878) centre (-26.5185, 1.4149) ccw
  arc A149 (-13.8582, 35.4827) -> (-11.9089, 28.7989) centre (-1.8588, 35.356) ccw
  arc A150 (-13.8582, 35.4827) -> (-11.9089, 28.7989) centre (-1.8588, 35.356) ccw
  arc A151 (-22.3017, 16.3423) -> (-23.3879, 12.9994) centre (2.0635, 6.5776) ccw
  arc A152 (-4.3583, 32.029) -> (-7.7012, 30.9428) centre (2.0635, 6.5776) ccw
  arc A153 (-11.9089, 28.7989) -> (-14.7525, 26.7329) centre (2.0635, 6.5776) ccw
  arc A154 (-22.3017, 16.3423) -> (-23.3879, 12.9994) centre (2.0635, 6.5776) ccw
  arc A155 (-22.0111, 29.1479) -> (-18.0918, 23.3936) centre (-10.5599, 32.7354) ccw
  arc A156 (-7.7012, 30.9428) -> (-11.9627, 36.4485) centre (-18.9133, 26.6663) ccw
  arc A157 (-30.6797, 10.6867) -> (-24.1266, 8.3351) centre (-23.5242, 20.3199) ccw
  arc A158 (-30.6797, 10.6867) -> (-24.1266, 8.3351) centre (-23.5242, 20.3199) ccw
  arc A159 (26.138, -15.9926) -> (22.2187, -10.2383) centre (14.6868, -19.5802) ccw
  circle A160 centre (2.0635, 6.5776) radius 2.75
  dimension "d4" = 5.5
extrude "Extrude1" add sketch "Sketch1" along normal blind 6
